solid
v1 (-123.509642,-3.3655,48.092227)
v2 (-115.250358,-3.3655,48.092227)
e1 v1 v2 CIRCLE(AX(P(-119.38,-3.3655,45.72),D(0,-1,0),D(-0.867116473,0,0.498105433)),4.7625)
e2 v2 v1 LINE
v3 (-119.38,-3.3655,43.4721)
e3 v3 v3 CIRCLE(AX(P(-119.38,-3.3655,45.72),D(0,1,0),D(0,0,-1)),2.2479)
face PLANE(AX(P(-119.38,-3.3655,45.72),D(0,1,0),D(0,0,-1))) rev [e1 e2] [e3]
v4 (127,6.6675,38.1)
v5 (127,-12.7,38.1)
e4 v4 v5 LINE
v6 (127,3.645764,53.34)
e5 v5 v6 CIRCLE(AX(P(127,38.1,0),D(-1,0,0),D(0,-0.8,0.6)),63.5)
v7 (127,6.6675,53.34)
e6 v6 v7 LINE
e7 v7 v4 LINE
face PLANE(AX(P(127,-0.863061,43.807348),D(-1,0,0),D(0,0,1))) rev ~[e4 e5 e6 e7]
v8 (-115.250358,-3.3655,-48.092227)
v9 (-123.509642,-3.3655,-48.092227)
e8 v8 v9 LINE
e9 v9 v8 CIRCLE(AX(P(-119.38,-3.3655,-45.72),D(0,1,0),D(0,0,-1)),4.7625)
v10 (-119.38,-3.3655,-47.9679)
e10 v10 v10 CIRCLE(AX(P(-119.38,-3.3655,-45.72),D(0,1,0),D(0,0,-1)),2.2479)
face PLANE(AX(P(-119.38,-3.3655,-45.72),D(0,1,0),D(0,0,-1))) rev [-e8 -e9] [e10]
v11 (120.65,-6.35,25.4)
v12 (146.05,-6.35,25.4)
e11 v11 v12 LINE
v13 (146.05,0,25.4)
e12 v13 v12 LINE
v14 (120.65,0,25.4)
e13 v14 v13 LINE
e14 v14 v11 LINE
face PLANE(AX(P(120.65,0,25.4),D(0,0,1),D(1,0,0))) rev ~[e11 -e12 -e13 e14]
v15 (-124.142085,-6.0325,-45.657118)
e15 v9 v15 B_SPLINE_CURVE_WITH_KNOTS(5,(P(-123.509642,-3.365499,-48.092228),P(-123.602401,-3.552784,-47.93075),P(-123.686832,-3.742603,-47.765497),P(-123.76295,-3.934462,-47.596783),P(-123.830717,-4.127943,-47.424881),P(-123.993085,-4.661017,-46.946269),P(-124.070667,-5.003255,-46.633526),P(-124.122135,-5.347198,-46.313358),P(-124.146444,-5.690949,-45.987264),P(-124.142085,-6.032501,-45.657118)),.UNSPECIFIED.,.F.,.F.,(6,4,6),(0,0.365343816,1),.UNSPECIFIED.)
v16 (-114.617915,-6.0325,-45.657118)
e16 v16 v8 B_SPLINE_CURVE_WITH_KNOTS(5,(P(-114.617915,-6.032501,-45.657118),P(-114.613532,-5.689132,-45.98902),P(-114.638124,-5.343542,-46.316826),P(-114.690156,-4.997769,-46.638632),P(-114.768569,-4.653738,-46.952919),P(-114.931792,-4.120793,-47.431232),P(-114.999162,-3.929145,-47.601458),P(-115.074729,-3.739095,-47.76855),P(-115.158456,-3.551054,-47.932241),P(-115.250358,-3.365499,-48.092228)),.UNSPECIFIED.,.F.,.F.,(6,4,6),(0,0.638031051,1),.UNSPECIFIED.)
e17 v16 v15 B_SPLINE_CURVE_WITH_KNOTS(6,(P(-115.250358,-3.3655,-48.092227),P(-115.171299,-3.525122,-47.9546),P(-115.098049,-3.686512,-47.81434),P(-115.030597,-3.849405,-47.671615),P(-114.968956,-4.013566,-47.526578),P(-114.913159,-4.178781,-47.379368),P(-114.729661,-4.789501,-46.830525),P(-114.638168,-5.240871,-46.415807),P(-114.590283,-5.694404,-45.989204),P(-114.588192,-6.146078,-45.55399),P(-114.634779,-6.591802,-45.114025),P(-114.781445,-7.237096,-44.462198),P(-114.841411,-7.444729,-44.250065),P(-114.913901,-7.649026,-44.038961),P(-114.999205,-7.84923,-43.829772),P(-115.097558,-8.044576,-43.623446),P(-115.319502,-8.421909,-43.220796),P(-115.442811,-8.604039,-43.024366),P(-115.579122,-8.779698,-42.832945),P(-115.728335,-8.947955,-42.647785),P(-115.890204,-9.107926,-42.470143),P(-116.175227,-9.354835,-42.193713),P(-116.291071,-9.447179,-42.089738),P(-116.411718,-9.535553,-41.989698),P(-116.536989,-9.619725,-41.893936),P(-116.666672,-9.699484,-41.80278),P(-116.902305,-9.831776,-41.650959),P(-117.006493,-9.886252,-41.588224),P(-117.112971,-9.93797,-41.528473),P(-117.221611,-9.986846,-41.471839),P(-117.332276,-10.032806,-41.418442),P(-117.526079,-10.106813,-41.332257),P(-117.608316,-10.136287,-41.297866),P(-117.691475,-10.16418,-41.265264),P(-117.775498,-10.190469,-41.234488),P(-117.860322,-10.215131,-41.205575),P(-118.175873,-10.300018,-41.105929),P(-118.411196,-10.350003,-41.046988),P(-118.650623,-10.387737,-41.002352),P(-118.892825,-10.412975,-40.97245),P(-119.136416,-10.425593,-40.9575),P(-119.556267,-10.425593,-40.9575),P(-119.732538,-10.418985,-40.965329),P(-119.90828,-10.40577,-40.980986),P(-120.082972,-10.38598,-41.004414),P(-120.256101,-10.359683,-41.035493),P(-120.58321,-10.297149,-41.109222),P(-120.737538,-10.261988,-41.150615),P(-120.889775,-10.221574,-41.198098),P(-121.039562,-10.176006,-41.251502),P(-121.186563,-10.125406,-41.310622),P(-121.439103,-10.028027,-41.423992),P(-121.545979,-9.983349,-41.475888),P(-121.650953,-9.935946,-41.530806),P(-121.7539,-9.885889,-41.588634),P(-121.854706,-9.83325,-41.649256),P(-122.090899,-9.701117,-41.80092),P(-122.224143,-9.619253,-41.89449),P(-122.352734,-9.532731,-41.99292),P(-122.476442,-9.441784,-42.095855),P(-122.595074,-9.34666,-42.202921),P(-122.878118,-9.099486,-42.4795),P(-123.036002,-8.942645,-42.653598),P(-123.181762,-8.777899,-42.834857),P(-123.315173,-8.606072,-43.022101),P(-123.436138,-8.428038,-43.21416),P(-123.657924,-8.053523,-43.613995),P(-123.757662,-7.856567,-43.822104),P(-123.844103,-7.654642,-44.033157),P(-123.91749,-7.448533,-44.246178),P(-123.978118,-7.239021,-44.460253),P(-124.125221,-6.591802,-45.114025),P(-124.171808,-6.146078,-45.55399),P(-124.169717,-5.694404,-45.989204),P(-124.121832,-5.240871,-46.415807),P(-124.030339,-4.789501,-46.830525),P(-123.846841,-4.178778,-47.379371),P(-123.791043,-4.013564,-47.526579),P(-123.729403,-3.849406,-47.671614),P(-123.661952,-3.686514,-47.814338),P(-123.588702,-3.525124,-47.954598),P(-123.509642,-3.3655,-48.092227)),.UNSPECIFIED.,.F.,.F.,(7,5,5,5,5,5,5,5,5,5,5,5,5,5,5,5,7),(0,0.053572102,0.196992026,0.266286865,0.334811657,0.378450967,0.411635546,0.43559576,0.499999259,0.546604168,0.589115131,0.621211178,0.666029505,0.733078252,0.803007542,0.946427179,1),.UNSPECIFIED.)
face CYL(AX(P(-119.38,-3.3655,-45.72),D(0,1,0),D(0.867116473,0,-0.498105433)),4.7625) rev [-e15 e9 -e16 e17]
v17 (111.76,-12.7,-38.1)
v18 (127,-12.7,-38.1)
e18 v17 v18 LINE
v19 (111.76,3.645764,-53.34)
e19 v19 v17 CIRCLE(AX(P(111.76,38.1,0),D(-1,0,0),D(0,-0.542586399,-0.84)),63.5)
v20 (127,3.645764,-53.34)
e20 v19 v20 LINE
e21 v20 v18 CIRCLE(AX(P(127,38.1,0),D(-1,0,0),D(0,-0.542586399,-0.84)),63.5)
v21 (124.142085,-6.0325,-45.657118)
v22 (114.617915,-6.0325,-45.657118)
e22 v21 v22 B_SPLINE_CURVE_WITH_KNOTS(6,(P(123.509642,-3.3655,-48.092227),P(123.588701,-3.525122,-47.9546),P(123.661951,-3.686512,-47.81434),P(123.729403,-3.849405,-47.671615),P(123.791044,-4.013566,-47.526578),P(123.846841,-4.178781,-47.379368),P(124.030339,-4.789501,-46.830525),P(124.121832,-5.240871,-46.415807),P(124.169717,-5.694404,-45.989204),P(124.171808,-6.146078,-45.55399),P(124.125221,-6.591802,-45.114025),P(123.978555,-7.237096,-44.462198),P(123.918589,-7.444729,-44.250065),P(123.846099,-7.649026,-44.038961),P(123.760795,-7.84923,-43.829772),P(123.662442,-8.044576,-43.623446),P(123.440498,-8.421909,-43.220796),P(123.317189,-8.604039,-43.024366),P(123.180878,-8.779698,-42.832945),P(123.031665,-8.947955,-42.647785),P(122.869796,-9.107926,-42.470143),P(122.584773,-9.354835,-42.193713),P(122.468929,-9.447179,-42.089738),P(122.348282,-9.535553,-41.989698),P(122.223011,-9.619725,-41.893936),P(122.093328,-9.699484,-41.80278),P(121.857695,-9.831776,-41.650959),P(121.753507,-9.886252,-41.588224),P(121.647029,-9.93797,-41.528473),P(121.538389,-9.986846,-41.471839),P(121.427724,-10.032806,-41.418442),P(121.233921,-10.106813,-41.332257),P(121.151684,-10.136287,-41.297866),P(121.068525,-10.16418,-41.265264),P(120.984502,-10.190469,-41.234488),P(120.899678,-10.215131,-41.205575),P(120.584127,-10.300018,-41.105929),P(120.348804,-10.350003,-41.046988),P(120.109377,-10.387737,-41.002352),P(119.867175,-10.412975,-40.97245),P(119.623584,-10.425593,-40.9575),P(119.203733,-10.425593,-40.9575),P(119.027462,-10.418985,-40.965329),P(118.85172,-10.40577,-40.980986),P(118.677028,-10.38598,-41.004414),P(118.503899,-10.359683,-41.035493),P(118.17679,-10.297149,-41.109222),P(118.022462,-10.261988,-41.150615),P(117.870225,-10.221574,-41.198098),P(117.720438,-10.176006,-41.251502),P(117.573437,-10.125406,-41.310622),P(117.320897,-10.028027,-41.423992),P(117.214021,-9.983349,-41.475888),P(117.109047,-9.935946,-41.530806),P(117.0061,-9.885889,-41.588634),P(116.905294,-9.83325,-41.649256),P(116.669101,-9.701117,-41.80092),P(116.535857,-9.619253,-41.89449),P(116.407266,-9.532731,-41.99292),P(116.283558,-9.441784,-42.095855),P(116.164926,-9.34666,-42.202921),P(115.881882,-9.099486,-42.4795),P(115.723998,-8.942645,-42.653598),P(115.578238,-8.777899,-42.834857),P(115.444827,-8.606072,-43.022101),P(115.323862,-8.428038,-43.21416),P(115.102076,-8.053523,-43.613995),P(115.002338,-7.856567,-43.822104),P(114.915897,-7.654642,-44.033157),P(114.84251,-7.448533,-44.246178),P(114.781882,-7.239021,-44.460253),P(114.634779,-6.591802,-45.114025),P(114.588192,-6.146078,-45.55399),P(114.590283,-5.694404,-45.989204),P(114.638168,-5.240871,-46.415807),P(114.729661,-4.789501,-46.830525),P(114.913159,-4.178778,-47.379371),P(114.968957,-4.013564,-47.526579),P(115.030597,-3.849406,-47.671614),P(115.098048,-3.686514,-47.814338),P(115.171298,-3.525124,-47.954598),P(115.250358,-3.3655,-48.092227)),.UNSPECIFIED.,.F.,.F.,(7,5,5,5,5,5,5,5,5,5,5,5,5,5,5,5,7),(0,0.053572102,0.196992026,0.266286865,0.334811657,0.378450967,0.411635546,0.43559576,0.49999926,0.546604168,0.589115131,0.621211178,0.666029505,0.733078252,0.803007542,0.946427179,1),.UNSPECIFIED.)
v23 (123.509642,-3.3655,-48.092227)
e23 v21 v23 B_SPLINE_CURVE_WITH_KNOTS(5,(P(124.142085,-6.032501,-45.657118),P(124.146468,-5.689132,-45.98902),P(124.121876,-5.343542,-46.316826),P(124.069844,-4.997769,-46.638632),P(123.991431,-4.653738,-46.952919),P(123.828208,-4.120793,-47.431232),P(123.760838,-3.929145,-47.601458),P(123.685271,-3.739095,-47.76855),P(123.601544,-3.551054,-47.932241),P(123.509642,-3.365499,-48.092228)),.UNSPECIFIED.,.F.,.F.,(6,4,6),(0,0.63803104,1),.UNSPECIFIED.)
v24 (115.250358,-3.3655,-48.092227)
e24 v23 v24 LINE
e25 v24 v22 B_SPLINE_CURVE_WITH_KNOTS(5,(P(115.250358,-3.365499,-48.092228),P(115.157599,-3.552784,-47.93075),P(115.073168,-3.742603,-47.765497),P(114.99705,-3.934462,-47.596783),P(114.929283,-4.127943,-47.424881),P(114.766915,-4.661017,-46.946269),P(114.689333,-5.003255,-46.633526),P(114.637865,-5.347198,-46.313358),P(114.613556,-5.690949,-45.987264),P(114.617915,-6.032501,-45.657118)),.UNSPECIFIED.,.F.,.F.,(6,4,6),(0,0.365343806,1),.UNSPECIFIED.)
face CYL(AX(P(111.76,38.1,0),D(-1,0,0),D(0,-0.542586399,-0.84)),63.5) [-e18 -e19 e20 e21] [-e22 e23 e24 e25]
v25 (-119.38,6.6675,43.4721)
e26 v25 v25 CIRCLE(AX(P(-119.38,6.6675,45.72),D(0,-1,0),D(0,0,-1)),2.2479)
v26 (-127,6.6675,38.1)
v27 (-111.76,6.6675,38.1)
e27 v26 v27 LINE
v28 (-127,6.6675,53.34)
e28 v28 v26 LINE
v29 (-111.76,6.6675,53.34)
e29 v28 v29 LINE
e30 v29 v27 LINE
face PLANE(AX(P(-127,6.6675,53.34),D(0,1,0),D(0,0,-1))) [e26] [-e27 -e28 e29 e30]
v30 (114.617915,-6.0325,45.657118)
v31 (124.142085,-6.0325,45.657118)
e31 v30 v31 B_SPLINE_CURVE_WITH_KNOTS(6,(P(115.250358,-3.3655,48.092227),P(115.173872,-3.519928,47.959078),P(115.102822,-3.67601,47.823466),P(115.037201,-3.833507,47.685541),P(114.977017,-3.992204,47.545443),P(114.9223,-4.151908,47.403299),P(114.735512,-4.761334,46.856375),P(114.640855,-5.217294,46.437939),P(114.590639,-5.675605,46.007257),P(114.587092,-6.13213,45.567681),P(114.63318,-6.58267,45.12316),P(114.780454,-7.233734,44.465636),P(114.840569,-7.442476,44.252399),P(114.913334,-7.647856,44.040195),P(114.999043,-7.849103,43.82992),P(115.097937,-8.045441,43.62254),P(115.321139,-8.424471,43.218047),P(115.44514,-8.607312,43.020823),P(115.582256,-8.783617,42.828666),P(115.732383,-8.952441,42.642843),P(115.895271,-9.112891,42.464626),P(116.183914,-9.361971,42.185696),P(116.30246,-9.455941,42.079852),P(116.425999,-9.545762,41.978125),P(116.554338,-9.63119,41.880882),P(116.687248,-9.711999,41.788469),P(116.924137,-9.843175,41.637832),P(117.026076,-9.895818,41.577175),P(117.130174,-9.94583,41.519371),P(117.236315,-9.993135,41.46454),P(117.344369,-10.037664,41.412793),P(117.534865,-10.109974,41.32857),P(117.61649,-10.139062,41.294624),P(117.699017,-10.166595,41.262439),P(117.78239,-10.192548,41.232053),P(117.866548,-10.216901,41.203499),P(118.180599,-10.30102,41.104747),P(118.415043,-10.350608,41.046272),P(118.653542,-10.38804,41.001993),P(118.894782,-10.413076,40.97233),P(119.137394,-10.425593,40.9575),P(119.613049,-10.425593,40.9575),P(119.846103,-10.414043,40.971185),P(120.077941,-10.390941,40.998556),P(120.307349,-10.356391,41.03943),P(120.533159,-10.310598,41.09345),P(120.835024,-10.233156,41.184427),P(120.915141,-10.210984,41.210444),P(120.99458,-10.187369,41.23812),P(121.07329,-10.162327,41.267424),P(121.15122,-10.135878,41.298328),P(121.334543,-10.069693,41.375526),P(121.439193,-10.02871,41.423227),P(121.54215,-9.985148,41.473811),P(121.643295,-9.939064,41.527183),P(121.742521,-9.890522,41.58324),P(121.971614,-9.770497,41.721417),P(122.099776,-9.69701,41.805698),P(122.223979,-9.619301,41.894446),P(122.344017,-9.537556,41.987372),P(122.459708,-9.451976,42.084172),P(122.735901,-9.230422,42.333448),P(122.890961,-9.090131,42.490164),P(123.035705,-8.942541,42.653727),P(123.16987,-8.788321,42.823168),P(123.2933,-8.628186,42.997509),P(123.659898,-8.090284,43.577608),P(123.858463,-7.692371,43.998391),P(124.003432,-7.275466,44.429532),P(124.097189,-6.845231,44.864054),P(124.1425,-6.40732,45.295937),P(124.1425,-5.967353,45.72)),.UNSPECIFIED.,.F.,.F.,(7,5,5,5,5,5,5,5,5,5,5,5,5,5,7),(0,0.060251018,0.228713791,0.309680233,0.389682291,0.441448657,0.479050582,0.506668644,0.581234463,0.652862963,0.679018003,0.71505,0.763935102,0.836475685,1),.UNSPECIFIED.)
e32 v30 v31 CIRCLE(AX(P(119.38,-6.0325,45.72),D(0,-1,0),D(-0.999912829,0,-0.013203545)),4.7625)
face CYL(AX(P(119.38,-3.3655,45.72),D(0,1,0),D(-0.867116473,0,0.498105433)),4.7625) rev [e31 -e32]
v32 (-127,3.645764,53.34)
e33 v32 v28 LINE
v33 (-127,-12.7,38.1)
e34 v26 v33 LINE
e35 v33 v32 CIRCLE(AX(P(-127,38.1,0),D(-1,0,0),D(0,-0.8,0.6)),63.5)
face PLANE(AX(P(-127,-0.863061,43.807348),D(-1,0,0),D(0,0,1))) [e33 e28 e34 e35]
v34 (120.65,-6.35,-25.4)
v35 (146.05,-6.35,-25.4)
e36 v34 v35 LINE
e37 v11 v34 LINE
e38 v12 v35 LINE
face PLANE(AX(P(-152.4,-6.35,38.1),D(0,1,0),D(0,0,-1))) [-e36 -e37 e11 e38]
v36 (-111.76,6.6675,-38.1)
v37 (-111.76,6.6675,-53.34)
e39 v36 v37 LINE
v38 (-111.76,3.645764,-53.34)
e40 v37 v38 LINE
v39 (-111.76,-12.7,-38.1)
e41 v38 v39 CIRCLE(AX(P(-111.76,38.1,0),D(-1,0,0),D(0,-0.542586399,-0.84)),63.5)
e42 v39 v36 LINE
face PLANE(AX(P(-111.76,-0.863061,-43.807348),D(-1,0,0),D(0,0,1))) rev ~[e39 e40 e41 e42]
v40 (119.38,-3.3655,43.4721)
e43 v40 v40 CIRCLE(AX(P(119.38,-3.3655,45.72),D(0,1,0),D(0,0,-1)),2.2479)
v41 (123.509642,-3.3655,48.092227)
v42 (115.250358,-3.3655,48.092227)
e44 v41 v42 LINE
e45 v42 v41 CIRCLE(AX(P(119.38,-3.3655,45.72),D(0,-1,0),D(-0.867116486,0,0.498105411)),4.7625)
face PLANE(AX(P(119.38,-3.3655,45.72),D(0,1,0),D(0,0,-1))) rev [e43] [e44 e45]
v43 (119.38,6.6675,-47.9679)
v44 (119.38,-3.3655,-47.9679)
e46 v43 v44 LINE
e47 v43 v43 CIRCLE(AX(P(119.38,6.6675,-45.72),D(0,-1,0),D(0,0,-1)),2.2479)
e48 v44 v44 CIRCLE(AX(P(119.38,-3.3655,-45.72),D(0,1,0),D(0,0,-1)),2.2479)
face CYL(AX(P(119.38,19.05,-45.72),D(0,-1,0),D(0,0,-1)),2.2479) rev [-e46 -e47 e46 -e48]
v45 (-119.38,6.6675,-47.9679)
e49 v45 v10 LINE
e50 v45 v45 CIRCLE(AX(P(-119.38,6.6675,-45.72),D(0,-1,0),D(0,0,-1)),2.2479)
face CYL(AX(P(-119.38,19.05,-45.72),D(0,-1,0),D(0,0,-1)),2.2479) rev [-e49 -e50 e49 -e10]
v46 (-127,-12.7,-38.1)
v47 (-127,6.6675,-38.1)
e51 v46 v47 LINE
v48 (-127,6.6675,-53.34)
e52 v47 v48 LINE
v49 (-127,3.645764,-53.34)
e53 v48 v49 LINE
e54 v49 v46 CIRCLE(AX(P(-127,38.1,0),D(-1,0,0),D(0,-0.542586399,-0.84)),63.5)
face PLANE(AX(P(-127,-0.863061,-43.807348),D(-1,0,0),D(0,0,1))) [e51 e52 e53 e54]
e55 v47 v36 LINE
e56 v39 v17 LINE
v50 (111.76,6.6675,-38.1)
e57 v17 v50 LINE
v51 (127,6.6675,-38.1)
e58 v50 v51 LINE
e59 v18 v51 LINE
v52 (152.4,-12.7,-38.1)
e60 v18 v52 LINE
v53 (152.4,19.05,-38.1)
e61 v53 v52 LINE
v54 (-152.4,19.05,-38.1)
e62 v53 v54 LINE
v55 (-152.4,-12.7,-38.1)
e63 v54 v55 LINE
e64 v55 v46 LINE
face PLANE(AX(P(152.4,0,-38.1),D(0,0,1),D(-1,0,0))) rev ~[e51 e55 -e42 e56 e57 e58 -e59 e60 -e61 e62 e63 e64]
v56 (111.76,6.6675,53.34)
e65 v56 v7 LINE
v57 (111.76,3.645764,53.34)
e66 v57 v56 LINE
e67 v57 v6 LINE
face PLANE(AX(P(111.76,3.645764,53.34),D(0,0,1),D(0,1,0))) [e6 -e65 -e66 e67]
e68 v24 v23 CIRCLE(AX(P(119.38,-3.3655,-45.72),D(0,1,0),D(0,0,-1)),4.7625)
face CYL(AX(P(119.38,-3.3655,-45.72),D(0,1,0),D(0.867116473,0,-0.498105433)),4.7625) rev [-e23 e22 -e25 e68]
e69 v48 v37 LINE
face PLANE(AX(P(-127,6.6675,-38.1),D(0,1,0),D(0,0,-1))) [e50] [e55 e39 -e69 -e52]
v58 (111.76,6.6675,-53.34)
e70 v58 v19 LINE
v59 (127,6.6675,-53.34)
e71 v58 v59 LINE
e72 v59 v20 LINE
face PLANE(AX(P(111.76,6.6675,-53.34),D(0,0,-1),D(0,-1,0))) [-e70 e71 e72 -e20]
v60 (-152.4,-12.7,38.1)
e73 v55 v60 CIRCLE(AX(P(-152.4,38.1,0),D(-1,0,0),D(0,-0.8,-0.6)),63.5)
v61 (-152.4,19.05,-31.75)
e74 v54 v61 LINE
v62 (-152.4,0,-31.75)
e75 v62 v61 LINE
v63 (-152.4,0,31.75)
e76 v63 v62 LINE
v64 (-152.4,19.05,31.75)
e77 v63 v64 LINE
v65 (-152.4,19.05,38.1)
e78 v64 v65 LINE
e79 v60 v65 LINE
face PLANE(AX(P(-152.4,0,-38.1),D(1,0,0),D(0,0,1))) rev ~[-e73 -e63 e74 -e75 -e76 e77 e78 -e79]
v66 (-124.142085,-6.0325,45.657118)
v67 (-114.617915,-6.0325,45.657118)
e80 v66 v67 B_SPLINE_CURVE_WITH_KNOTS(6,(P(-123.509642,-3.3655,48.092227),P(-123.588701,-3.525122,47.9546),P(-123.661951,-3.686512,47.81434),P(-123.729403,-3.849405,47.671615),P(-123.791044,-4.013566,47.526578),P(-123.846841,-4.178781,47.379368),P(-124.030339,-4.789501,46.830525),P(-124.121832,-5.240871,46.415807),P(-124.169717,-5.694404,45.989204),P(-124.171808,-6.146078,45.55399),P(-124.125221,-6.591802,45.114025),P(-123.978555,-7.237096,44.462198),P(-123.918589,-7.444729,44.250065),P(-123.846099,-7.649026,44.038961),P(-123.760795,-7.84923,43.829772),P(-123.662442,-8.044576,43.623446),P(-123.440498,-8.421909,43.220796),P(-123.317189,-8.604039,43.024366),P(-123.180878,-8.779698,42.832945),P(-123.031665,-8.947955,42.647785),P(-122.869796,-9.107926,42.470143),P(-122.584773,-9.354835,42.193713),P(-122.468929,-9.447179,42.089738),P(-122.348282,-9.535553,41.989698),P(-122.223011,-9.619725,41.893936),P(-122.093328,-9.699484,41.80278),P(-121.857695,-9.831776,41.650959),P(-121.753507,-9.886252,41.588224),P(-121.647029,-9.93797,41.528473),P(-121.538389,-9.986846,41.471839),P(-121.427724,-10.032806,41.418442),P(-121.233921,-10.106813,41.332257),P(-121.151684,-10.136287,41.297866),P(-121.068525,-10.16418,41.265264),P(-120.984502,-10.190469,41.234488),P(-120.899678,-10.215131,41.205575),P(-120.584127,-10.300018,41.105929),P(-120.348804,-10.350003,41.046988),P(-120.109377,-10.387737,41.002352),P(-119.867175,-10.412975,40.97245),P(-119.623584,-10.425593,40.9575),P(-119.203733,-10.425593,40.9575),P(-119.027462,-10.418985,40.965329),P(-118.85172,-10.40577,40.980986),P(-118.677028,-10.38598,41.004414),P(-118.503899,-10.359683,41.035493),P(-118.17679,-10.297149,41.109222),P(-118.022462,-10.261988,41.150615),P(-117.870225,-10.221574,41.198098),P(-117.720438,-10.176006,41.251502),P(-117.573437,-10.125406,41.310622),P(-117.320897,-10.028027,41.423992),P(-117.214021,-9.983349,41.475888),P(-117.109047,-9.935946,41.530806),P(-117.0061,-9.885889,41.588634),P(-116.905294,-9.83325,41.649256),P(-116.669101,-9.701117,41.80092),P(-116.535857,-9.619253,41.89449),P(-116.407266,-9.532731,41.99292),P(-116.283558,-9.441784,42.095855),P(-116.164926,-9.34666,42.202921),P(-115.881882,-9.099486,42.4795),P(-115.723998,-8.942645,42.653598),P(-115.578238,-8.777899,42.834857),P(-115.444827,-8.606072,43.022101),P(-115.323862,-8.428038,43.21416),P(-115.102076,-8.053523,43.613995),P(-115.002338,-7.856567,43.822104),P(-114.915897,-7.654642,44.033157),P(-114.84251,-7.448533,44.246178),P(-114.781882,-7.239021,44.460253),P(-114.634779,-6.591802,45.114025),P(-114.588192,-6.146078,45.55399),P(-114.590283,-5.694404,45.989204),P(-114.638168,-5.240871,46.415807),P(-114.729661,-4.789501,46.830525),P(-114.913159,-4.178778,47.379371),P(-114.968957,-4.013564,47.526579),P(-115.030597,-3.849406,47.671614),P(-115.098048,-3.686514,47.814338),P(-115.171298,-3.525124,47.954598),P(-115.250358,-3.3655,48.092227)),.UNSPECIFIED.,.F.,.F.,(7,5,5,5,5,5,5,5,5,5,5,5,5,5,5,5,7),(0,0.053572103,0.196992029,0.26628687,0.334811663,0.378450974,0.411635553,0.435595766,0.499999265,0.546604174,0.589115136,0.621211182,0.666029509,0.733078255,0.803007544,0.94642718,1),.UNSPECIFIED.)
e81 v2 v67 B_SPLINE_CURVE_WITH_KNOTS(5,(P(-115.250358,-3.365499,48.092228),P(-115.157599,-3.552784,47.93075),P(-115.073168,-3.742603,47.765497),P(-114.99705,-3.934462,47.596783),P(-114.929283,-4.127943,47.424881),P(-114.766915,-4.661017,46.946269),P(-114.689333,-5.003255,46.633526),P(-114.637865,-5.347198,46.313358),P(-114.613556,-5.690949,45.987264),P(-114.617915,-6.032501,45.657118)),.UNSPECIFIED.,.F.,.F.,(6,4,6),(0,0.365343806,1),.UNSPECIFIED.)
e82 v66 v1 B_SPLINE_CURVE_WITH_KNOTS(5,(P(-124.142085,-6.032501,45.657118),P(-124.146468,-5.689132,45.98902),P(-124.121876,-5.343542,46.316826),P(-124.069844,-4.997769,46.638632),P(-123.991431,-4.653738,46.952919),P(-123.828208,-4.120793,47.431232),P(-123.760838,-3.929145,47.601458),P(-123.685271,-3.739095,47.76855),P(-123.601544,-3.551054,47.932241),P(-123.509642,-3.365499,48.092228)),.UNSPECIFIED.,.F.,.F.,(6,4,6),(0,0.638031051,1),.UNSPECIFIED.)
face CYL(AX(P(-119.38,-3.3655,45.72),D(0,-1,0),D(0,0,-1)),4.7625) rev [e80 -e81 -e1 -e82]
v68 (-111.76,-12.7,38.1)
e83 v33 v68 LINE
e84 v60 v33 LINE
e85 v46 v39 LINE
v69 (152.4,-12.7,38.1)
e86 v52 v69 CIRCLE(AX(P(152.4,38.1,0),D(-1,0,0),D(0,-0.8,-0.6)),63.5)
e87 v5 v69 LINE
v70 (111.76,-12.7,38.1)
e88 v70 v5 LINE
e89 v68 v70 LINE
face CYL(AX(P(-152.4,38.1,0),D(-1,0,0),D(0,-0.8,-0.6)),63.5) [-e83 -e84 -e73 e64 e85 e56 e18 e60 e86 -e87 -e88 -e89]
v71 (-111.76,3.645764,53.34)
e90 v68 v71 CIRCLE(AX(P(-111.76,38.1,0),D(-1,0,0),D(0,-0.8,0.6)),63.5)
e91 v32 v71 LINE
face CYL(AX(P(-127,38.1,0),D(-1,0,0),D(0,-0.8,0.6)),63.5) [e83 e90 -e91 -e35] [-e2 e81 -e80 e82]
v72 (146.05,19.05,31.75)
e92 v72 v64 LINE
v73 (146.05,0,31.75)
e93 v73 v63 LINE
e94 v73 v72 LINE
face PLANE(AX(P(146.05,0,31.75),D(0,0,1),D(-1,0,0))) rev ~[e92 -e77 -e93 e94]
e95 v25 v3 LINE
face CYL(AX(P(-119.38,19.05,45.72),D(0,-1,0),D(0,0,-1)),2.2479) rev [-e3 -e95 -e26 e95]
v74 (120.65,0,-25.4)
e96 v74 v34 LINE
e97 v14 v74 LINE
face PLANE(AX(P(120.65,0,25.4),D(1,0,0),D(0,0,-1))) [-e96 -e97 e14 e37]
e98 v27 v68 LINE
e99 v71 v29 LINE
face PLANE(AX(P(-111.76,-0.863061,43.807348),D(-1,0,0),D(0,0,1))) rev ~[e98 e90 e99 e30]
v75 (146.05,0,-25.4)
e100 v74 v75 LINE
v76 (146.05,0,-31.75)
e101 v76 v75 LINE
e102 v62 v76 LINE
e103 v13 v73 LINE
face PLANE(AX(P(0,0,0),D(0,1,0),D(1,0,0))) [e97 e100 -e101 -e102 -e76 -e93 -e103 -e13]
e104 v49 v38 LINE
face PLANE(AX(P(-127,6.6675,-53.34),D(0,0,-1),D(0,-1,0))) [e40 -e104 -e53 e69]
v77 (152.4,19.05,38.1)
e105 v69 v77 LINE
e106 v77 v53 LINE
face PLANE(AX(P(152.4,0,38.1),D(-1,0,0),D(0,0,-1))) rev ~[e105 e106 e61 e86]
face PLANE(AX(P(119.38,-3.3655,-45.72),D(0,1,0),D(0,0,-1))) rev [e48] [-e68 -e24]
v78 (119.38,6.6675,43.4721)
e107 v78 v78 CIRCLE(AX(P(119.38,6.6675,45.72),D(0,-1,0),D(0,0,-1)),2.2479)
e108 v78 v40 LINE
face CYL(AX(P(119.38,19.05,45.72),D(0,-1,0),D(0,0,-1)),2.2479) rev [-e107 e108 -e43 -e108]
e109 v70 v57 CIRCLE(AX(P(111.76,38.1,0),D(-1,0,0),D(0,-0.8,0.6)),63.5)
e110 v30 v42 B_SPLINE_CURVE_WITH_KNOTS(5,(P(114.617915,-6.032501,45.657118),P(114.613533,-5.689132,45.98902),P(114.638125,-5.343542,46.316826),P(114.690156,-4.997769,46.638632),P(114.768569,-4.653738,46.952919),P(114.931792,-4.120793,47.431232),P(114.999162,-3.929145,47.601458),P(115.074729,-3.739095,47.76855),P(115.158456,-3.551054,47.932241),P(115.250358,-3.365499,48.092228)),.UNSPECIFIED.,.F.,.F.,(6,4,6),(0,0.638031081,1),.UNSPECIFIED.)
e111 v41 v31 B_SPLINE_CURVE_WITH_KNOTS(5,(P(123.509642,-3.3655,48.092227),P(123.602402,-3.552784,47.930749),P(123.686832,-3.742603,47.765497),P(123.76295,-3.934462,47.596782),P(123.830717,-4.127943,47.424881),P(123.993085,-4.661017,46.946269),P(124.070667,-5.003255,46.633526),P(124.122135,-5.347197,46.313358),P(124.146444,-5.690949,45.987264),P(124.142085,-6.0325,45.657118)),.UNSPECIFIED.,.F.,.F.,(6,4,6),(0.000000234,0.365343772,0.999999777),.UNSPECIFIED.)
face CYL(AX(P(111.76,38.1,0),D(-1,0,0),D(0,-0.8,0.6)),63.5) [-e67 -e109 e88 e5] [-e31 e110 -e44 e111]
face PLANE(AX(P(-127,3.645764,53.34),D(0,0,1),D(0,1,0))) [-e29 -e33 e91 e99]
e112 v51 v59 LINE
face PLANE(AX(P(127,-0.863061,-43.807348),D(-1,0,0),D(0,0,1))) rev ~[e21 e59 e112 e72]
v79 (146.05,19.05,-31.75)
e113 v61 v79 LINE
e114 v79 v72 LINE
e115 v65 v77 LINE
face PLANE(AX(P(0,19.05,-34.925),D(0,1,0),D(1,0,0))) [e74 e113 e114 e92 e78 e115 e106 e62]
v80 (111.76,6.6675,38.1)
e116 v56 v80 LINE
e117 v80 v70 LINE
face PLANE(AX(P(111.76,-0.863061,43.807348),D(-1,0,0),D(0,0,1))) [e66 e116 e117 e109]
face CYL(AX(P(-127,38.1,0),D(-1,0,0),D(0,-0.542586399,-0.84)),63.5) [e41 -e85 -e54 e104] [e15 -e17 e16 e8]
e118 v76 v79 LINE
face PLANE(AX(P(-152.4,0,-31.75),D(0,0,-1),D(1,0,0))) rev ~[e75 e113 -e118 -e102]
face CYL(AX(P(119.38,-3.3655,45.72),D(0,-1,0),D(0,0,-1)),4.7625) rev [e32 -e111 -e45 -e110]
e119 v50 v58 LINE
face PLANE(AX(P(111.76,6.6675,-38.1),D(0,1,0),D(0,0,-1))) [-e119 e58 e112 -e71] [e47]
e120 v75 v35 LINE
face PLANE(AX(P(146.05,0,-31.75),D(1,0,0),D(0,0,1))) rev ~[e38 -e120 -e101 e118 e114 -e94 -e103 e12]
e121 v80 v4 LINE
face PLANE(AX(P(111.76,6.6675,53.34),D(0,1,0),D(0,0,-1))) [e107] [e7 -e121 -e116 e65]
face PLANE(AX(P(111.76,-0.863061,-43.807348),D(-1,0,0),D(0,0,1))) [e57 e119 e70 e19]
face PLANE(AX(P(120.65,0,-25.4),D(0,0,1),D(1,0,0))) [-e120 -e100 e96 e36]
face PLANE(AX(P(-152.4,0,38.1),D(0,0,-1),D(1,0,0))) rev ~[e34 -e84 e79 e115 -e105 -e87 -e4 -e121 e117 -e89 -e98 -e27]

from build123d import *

# Parameters (mm, degrees)
SKETCH1_W                                   = 304.8
SKETCH1_H                                   = 76.2
BOSS_EXTRUDE1_DEPTH                         = 6.35
SKETCH3_W                                   = 25.4
SKETCH3_H                                   = 50.8
CUT_EXTRUDE2_DEPTH                          = 25.4
BOSS_EXTRUDE2_DEPTH                         = 19.05
BOSS_EXTRUDE3_DEPTH                         = 304.8
BOSS_EXTRUDE4_DEPTH                         = 15.24
BOSS_EXTRUDE5_DEPTH                         = 15.24
CBORE_FOR_8_BINDING_HEAD_MACHINE_SC_2_COUNT = 2
CBORE_FOR_8_BINDING_HEAD_MACHINE_SC_2_PITCH = 238.76
CBORE_FOR_8_BINDING_HEAD_MACHINE_SC_3_COUNT = 2
CBORE_FOR_8_BINDING_HEAD_MACHINE_SC_3_PITCH = 255.670904094
CBORE_FOR_8_BINDING_HEAD_MACHINE_SC_4_COUNT = 2
CBORE_FOR_8_BINDING_HEAD_MACHINE_SC_4_PITCH = 91.44
SKETCH12_R                                  = 2.2479
CUT_EXTRUDE3_DEPTH                          = 23.0345001


with BuildPart() as part:
    # Sketch1 → Boss-Extrude1 (new body)
    with BuildSketch(Plane(origin=(0, 0, 0), x_dir=(1, 0, 0), z_dir=(0, 1, 0))):
        Rectangle(SKETCH1_W, SKETCH1_H)
    extrude(amount=-BOSS_EXTRUDE1_DEPTH)

    # Sketch3 → Cut-Extrude2 (cut)
    with BuildSketch(Plane(origin=(0, 0, 0), x_dir=(1, 0, 0), z_dir=(0, 1, 0))):
        with Locations((133.35, 0)):
            Rectangle(SKETCH3_W, SKETCH3_H)
    extrude(amount=-CUT_EXTRUDE2_DEPTH, mode=Mode.SUBTRACT)

    # Sketch4 → Boss-Extrude2 (add)
    with BuildSketch(Plane(origin=(0, 0, 0), x_dir=(1, 0, 0), z_dir=(0, 1, 0))):
        Polygon((152.4, 38.1), (-152.4, 38.1), (-152.4, 31.75), (146.05, 31.75), (152.4, 31.75), align=None)
        Polygon((146.05, -31.75), (-152.4, -31.75), (-152.4, -38.1), (152.4, -38.1), (152.4, -31.75), align=None)
        Polygon((152.4, -31.75), (152.4, 31.75), (146.05, 31.75), (146.05, 25.4), (146.05, -25.4), (146.05, -31.75), align=None)
    extrude(amount=BOSS_EXTRUDE2_DEPTH)

    # Sketch5 → Boss-Extrude3 (add)
    with BuildSketch(Plane.ZY.offset(152.4)):
        with BuildLine():
            Line((38.1, -6.35), (-38.1, -6.35))
            Line((-38.1, -6.35), (-38.1, -12.7))
            ThreePointArc((-38.1, -12.7), (0, -25.4), (38.1, -12.7))
            Line((38.1, -12.7), (38.1, -6.35))
        make_face()
    extrude(amount=-BOSS_EXTRUDE3_DEPTH)

    # Sketch8 → Boss-Extrude4 (add)
    with BuildSketch(Plane.ZY.offset(127)):
        with BuildLine():
            Line((-38.1, -12.7), (-38.1, 6.6675))
            Line((-38.1, 6.6675), (-53.34, 6.6675))
            Line((-53.34, 6.6675), (-53.34, 3.645763686))
            ThreePointArc((-53.34, 3.645763686), (-46.444745641, -5.202835962), (-38.1, -12.7))
        make_face()
        with BuildLine():
            Line((53.34, 3.645763686), (53.34, 6.6675))
            Line((53.34, 6.6675), (38.1, 6.6675))
            Line((38.1, 6.6675), (38.1, -12.7))
            ThreePointArc((38.1, -12.7), (46.444745641, -5.202835962), (53.34, 3.645763686))
        make_face()
    extrude(amount=-BOSS_EXTRUDE4_DEPTH)

    # Sketch9 → Boss-Extrude5 (add)
    with BuildSketch(Plane.ZY.offset(-111.76)):
        with BuildLine():
            Line((-38.1, -12.7), (-38.1, 6.6675))
            Line((-38.1, 6.6675), (-53.34, 6.6675))
            Line((-53.34, 6.6675), (-53.34, 3.645763686))
            ThreePointArc((-53.34, 3.645763686), (-46.444745641, -5.202835962), (-38.1, -12.7))
        make_face()
        with BuildLine():
            Line((53.34, 3.645763686), (53.34, 6.6675))
            Line((53.34, 6.6675), (38.1, 6.6675))
            Line((38.1, 6.6675), (38.1, -12.7))
            ThreePointArc((38.1, -12.7), (46.444745641, -5.202835962), (53.34, 3.645763686))
        make_face()
    extrude(amount=-BOSS_EXTRUDE5_DEPTH)

    # Sketch11 → CBORE for #8 Binding Head Machine Screw1 (revolve, cut)
    with BuildSketch(Plane(origin=(-119.38, -6.0325, -45.72), x_dir=(0, 0, -1), z_dir=(1, 0, 0))):
        Polygon((0, 0), (0, 25.0825), (2.2479, 25.0825), (2.2479, 2.667), (4.7625, 2.667), (4.7625, 0), align=None)
    cbore_for_8_binding_head_machine_screw1 = revolve(axis=Axis((-119.38, -12.3825, -45.72), (0, 1, 0)), mode=Mode.SUBTRACT)

    # CBORE for _8 Binding Head Machine Sc 2: CBORE for #8 Binding Head Machine Screw1 ×2
    with Locations(*[(i * CBORE_FOR_8_BINDING_HEAD_MACHINE_SC_2_PITCH, 0, 0) for i in range(1, CBORE_FOR_8_BINDING_HEAD_MACHINE_SC_2_COUNT)]):
        add(cbore_for_8_binding_head_machine_screw1, mode=Mode.SUBTRACT)

    # CBORE for _8 Binding Head Machine Sc 3: CBORE for #8 Binding Head Machine Screw1 ×2
    with Locations(*[Vector(0.933856752, 0, 0.357647267) * (i * CBORE_FOR_8_BINDING_HEAD_MACHINE_SC_3_PITCH) for i in range(1, CBORE_FOR_8_BINDING_HEAD_MACHINE_SC_3_COUNT)]):
        add(cbore_for_8_binding_head_machine_screw1, mode=Mode.SUBTRACT)

    # CBORE for _8 Binding Head Machine Sc 4: CBORE for #8 Binding Head Machine Screw1 ×2
    with Locations(*[(0, 0, i * CBORE_FOR_8_BINDING_HEAD_MACHINE_SC_4_PITCH) for i in range(1, CBORE_FOR_8_BINDING_HEAD_MACHINE_SC_4_COUNT)]):
        add(cbore_for_8_binding_head_machine_screw1, mode=Mode.SUBTRACT)

    # Sketch12 → Cut-Extrude3 (cut, through all)
    with BuildSketch(Plane.XZ.offset(3.3655)):
        with BuildLine():
            Line((-123.509642203, -48.092227124), (-115.250357797, -48.092227124))
            ThreePointArc((-115.250357797, -48.092227124), (-119.38, -40.9575), (-123.509642203, -48.092227124))
        make_face()
        with BuildLine():
            ThreePointArc((-114.6175, -45.72), (-120.607596281, -41.118433569), (-123.509642203, -48.092227124))
            Line((-123.509642203, -48.092227124), (-115.250357797, -48.092227124))
            ThreePointArc((-115.250357797, -48.092227124), (-114.778433569, -46.947596281), (-114.6175, -45.72))
        make_face()
        with BuildLine():
            Line((-115.250357797, -48.092227124), (-123.509642203, -48.092227124))
            ThreePointArc((-123.509642203, -48.092227124), (-119.38, -50.4825), (-115.250357797, -48.092227124))
        make_face()
        with BuildLine():
            Line((-123.509642203, 48.092227124), (-115.250357797, 48.092227124))
            ThreePointArc((-115.250357797, 48.092227124), (-119.38, 50.4825), (-123.509642203, 48.092227124))
        make_face()
        with BuildLine():
            ThreePointArc((-123.509642203, 48.092227124), (-119.38, 40.9575), (-115.250357797, 48.092227124))
            Line((-115.250357797, 48.092227124), (-123.509642203, 48.092227124))
        make_face()
        with Locations((-119.38, 45.72)):
            Circle(SKETCH12_R, mode=Mode.SUBTRACT)
        with BuildLine():
            ThreePointArc((124.1425, 45.72), (123.981566431, 46.947596281), (123.509642203, 48.092227124))
            Line((123.509642203, 48.092227124), (115.250357797, 48.092227124))
            ThreePointArc((115.250357797, 48.092227124), (118.152403719, 41.118433569), (124.1425, 45.72))
        make_face()
        with BuildLine():
            Line((115.250357797, 48.092227124), (123.509642203, 48.092227124))
            ThreePointArc((123.509642203, 48.092227124), (119.38, 50.4825), (115.250357797, 48.092227124))
        make_face()
        with BuildLine():
            Line((123.509642203, 48.092227124), (115.250357797, 48.092227124))
            ThreePointArc((115.250357797, 48.092227124), (119.38, 40.9575), (123.509642203, 48.092227124))
        make_face()
        with BuildLine():
            Line((115.250357797, -48.092227124), (123.509642203, -48.092227124))
            ThreePointArc((123.509642203, -48.092227124), (119.38, -40.9575), (115.250357797, -48.092227124))
        make_face()
        with BuildLine():
            ThreePointArc((124.1425, -45.72), (118.152403719, -41.118433569), (115.250357797, -48.092227124))
            Line((115.250357797, -48.092227124), (123.509642203, -48.092227124))
            ThreePointArc((123.509642203, -48.092227124), (123.981566431, -46.947596281), (124.1425, -45.72))
        make_face()
        with BuildLine():
            Line((123.509642203, -48.092227124), (115.250357797, -48.092227124))
            ThreePointArc((115.250357797, -48.092227124), (119.38, -50.4825), (123.509642203, -48.092227124))
        make_face()
        with Locations((-119.38, 45.72)):
            Circle(SKETCH12_R)
    extrude(amount=CUT_EXTRUDE3_DEPTH, mode=Mode.SUBTRACT)


solid = part.part
